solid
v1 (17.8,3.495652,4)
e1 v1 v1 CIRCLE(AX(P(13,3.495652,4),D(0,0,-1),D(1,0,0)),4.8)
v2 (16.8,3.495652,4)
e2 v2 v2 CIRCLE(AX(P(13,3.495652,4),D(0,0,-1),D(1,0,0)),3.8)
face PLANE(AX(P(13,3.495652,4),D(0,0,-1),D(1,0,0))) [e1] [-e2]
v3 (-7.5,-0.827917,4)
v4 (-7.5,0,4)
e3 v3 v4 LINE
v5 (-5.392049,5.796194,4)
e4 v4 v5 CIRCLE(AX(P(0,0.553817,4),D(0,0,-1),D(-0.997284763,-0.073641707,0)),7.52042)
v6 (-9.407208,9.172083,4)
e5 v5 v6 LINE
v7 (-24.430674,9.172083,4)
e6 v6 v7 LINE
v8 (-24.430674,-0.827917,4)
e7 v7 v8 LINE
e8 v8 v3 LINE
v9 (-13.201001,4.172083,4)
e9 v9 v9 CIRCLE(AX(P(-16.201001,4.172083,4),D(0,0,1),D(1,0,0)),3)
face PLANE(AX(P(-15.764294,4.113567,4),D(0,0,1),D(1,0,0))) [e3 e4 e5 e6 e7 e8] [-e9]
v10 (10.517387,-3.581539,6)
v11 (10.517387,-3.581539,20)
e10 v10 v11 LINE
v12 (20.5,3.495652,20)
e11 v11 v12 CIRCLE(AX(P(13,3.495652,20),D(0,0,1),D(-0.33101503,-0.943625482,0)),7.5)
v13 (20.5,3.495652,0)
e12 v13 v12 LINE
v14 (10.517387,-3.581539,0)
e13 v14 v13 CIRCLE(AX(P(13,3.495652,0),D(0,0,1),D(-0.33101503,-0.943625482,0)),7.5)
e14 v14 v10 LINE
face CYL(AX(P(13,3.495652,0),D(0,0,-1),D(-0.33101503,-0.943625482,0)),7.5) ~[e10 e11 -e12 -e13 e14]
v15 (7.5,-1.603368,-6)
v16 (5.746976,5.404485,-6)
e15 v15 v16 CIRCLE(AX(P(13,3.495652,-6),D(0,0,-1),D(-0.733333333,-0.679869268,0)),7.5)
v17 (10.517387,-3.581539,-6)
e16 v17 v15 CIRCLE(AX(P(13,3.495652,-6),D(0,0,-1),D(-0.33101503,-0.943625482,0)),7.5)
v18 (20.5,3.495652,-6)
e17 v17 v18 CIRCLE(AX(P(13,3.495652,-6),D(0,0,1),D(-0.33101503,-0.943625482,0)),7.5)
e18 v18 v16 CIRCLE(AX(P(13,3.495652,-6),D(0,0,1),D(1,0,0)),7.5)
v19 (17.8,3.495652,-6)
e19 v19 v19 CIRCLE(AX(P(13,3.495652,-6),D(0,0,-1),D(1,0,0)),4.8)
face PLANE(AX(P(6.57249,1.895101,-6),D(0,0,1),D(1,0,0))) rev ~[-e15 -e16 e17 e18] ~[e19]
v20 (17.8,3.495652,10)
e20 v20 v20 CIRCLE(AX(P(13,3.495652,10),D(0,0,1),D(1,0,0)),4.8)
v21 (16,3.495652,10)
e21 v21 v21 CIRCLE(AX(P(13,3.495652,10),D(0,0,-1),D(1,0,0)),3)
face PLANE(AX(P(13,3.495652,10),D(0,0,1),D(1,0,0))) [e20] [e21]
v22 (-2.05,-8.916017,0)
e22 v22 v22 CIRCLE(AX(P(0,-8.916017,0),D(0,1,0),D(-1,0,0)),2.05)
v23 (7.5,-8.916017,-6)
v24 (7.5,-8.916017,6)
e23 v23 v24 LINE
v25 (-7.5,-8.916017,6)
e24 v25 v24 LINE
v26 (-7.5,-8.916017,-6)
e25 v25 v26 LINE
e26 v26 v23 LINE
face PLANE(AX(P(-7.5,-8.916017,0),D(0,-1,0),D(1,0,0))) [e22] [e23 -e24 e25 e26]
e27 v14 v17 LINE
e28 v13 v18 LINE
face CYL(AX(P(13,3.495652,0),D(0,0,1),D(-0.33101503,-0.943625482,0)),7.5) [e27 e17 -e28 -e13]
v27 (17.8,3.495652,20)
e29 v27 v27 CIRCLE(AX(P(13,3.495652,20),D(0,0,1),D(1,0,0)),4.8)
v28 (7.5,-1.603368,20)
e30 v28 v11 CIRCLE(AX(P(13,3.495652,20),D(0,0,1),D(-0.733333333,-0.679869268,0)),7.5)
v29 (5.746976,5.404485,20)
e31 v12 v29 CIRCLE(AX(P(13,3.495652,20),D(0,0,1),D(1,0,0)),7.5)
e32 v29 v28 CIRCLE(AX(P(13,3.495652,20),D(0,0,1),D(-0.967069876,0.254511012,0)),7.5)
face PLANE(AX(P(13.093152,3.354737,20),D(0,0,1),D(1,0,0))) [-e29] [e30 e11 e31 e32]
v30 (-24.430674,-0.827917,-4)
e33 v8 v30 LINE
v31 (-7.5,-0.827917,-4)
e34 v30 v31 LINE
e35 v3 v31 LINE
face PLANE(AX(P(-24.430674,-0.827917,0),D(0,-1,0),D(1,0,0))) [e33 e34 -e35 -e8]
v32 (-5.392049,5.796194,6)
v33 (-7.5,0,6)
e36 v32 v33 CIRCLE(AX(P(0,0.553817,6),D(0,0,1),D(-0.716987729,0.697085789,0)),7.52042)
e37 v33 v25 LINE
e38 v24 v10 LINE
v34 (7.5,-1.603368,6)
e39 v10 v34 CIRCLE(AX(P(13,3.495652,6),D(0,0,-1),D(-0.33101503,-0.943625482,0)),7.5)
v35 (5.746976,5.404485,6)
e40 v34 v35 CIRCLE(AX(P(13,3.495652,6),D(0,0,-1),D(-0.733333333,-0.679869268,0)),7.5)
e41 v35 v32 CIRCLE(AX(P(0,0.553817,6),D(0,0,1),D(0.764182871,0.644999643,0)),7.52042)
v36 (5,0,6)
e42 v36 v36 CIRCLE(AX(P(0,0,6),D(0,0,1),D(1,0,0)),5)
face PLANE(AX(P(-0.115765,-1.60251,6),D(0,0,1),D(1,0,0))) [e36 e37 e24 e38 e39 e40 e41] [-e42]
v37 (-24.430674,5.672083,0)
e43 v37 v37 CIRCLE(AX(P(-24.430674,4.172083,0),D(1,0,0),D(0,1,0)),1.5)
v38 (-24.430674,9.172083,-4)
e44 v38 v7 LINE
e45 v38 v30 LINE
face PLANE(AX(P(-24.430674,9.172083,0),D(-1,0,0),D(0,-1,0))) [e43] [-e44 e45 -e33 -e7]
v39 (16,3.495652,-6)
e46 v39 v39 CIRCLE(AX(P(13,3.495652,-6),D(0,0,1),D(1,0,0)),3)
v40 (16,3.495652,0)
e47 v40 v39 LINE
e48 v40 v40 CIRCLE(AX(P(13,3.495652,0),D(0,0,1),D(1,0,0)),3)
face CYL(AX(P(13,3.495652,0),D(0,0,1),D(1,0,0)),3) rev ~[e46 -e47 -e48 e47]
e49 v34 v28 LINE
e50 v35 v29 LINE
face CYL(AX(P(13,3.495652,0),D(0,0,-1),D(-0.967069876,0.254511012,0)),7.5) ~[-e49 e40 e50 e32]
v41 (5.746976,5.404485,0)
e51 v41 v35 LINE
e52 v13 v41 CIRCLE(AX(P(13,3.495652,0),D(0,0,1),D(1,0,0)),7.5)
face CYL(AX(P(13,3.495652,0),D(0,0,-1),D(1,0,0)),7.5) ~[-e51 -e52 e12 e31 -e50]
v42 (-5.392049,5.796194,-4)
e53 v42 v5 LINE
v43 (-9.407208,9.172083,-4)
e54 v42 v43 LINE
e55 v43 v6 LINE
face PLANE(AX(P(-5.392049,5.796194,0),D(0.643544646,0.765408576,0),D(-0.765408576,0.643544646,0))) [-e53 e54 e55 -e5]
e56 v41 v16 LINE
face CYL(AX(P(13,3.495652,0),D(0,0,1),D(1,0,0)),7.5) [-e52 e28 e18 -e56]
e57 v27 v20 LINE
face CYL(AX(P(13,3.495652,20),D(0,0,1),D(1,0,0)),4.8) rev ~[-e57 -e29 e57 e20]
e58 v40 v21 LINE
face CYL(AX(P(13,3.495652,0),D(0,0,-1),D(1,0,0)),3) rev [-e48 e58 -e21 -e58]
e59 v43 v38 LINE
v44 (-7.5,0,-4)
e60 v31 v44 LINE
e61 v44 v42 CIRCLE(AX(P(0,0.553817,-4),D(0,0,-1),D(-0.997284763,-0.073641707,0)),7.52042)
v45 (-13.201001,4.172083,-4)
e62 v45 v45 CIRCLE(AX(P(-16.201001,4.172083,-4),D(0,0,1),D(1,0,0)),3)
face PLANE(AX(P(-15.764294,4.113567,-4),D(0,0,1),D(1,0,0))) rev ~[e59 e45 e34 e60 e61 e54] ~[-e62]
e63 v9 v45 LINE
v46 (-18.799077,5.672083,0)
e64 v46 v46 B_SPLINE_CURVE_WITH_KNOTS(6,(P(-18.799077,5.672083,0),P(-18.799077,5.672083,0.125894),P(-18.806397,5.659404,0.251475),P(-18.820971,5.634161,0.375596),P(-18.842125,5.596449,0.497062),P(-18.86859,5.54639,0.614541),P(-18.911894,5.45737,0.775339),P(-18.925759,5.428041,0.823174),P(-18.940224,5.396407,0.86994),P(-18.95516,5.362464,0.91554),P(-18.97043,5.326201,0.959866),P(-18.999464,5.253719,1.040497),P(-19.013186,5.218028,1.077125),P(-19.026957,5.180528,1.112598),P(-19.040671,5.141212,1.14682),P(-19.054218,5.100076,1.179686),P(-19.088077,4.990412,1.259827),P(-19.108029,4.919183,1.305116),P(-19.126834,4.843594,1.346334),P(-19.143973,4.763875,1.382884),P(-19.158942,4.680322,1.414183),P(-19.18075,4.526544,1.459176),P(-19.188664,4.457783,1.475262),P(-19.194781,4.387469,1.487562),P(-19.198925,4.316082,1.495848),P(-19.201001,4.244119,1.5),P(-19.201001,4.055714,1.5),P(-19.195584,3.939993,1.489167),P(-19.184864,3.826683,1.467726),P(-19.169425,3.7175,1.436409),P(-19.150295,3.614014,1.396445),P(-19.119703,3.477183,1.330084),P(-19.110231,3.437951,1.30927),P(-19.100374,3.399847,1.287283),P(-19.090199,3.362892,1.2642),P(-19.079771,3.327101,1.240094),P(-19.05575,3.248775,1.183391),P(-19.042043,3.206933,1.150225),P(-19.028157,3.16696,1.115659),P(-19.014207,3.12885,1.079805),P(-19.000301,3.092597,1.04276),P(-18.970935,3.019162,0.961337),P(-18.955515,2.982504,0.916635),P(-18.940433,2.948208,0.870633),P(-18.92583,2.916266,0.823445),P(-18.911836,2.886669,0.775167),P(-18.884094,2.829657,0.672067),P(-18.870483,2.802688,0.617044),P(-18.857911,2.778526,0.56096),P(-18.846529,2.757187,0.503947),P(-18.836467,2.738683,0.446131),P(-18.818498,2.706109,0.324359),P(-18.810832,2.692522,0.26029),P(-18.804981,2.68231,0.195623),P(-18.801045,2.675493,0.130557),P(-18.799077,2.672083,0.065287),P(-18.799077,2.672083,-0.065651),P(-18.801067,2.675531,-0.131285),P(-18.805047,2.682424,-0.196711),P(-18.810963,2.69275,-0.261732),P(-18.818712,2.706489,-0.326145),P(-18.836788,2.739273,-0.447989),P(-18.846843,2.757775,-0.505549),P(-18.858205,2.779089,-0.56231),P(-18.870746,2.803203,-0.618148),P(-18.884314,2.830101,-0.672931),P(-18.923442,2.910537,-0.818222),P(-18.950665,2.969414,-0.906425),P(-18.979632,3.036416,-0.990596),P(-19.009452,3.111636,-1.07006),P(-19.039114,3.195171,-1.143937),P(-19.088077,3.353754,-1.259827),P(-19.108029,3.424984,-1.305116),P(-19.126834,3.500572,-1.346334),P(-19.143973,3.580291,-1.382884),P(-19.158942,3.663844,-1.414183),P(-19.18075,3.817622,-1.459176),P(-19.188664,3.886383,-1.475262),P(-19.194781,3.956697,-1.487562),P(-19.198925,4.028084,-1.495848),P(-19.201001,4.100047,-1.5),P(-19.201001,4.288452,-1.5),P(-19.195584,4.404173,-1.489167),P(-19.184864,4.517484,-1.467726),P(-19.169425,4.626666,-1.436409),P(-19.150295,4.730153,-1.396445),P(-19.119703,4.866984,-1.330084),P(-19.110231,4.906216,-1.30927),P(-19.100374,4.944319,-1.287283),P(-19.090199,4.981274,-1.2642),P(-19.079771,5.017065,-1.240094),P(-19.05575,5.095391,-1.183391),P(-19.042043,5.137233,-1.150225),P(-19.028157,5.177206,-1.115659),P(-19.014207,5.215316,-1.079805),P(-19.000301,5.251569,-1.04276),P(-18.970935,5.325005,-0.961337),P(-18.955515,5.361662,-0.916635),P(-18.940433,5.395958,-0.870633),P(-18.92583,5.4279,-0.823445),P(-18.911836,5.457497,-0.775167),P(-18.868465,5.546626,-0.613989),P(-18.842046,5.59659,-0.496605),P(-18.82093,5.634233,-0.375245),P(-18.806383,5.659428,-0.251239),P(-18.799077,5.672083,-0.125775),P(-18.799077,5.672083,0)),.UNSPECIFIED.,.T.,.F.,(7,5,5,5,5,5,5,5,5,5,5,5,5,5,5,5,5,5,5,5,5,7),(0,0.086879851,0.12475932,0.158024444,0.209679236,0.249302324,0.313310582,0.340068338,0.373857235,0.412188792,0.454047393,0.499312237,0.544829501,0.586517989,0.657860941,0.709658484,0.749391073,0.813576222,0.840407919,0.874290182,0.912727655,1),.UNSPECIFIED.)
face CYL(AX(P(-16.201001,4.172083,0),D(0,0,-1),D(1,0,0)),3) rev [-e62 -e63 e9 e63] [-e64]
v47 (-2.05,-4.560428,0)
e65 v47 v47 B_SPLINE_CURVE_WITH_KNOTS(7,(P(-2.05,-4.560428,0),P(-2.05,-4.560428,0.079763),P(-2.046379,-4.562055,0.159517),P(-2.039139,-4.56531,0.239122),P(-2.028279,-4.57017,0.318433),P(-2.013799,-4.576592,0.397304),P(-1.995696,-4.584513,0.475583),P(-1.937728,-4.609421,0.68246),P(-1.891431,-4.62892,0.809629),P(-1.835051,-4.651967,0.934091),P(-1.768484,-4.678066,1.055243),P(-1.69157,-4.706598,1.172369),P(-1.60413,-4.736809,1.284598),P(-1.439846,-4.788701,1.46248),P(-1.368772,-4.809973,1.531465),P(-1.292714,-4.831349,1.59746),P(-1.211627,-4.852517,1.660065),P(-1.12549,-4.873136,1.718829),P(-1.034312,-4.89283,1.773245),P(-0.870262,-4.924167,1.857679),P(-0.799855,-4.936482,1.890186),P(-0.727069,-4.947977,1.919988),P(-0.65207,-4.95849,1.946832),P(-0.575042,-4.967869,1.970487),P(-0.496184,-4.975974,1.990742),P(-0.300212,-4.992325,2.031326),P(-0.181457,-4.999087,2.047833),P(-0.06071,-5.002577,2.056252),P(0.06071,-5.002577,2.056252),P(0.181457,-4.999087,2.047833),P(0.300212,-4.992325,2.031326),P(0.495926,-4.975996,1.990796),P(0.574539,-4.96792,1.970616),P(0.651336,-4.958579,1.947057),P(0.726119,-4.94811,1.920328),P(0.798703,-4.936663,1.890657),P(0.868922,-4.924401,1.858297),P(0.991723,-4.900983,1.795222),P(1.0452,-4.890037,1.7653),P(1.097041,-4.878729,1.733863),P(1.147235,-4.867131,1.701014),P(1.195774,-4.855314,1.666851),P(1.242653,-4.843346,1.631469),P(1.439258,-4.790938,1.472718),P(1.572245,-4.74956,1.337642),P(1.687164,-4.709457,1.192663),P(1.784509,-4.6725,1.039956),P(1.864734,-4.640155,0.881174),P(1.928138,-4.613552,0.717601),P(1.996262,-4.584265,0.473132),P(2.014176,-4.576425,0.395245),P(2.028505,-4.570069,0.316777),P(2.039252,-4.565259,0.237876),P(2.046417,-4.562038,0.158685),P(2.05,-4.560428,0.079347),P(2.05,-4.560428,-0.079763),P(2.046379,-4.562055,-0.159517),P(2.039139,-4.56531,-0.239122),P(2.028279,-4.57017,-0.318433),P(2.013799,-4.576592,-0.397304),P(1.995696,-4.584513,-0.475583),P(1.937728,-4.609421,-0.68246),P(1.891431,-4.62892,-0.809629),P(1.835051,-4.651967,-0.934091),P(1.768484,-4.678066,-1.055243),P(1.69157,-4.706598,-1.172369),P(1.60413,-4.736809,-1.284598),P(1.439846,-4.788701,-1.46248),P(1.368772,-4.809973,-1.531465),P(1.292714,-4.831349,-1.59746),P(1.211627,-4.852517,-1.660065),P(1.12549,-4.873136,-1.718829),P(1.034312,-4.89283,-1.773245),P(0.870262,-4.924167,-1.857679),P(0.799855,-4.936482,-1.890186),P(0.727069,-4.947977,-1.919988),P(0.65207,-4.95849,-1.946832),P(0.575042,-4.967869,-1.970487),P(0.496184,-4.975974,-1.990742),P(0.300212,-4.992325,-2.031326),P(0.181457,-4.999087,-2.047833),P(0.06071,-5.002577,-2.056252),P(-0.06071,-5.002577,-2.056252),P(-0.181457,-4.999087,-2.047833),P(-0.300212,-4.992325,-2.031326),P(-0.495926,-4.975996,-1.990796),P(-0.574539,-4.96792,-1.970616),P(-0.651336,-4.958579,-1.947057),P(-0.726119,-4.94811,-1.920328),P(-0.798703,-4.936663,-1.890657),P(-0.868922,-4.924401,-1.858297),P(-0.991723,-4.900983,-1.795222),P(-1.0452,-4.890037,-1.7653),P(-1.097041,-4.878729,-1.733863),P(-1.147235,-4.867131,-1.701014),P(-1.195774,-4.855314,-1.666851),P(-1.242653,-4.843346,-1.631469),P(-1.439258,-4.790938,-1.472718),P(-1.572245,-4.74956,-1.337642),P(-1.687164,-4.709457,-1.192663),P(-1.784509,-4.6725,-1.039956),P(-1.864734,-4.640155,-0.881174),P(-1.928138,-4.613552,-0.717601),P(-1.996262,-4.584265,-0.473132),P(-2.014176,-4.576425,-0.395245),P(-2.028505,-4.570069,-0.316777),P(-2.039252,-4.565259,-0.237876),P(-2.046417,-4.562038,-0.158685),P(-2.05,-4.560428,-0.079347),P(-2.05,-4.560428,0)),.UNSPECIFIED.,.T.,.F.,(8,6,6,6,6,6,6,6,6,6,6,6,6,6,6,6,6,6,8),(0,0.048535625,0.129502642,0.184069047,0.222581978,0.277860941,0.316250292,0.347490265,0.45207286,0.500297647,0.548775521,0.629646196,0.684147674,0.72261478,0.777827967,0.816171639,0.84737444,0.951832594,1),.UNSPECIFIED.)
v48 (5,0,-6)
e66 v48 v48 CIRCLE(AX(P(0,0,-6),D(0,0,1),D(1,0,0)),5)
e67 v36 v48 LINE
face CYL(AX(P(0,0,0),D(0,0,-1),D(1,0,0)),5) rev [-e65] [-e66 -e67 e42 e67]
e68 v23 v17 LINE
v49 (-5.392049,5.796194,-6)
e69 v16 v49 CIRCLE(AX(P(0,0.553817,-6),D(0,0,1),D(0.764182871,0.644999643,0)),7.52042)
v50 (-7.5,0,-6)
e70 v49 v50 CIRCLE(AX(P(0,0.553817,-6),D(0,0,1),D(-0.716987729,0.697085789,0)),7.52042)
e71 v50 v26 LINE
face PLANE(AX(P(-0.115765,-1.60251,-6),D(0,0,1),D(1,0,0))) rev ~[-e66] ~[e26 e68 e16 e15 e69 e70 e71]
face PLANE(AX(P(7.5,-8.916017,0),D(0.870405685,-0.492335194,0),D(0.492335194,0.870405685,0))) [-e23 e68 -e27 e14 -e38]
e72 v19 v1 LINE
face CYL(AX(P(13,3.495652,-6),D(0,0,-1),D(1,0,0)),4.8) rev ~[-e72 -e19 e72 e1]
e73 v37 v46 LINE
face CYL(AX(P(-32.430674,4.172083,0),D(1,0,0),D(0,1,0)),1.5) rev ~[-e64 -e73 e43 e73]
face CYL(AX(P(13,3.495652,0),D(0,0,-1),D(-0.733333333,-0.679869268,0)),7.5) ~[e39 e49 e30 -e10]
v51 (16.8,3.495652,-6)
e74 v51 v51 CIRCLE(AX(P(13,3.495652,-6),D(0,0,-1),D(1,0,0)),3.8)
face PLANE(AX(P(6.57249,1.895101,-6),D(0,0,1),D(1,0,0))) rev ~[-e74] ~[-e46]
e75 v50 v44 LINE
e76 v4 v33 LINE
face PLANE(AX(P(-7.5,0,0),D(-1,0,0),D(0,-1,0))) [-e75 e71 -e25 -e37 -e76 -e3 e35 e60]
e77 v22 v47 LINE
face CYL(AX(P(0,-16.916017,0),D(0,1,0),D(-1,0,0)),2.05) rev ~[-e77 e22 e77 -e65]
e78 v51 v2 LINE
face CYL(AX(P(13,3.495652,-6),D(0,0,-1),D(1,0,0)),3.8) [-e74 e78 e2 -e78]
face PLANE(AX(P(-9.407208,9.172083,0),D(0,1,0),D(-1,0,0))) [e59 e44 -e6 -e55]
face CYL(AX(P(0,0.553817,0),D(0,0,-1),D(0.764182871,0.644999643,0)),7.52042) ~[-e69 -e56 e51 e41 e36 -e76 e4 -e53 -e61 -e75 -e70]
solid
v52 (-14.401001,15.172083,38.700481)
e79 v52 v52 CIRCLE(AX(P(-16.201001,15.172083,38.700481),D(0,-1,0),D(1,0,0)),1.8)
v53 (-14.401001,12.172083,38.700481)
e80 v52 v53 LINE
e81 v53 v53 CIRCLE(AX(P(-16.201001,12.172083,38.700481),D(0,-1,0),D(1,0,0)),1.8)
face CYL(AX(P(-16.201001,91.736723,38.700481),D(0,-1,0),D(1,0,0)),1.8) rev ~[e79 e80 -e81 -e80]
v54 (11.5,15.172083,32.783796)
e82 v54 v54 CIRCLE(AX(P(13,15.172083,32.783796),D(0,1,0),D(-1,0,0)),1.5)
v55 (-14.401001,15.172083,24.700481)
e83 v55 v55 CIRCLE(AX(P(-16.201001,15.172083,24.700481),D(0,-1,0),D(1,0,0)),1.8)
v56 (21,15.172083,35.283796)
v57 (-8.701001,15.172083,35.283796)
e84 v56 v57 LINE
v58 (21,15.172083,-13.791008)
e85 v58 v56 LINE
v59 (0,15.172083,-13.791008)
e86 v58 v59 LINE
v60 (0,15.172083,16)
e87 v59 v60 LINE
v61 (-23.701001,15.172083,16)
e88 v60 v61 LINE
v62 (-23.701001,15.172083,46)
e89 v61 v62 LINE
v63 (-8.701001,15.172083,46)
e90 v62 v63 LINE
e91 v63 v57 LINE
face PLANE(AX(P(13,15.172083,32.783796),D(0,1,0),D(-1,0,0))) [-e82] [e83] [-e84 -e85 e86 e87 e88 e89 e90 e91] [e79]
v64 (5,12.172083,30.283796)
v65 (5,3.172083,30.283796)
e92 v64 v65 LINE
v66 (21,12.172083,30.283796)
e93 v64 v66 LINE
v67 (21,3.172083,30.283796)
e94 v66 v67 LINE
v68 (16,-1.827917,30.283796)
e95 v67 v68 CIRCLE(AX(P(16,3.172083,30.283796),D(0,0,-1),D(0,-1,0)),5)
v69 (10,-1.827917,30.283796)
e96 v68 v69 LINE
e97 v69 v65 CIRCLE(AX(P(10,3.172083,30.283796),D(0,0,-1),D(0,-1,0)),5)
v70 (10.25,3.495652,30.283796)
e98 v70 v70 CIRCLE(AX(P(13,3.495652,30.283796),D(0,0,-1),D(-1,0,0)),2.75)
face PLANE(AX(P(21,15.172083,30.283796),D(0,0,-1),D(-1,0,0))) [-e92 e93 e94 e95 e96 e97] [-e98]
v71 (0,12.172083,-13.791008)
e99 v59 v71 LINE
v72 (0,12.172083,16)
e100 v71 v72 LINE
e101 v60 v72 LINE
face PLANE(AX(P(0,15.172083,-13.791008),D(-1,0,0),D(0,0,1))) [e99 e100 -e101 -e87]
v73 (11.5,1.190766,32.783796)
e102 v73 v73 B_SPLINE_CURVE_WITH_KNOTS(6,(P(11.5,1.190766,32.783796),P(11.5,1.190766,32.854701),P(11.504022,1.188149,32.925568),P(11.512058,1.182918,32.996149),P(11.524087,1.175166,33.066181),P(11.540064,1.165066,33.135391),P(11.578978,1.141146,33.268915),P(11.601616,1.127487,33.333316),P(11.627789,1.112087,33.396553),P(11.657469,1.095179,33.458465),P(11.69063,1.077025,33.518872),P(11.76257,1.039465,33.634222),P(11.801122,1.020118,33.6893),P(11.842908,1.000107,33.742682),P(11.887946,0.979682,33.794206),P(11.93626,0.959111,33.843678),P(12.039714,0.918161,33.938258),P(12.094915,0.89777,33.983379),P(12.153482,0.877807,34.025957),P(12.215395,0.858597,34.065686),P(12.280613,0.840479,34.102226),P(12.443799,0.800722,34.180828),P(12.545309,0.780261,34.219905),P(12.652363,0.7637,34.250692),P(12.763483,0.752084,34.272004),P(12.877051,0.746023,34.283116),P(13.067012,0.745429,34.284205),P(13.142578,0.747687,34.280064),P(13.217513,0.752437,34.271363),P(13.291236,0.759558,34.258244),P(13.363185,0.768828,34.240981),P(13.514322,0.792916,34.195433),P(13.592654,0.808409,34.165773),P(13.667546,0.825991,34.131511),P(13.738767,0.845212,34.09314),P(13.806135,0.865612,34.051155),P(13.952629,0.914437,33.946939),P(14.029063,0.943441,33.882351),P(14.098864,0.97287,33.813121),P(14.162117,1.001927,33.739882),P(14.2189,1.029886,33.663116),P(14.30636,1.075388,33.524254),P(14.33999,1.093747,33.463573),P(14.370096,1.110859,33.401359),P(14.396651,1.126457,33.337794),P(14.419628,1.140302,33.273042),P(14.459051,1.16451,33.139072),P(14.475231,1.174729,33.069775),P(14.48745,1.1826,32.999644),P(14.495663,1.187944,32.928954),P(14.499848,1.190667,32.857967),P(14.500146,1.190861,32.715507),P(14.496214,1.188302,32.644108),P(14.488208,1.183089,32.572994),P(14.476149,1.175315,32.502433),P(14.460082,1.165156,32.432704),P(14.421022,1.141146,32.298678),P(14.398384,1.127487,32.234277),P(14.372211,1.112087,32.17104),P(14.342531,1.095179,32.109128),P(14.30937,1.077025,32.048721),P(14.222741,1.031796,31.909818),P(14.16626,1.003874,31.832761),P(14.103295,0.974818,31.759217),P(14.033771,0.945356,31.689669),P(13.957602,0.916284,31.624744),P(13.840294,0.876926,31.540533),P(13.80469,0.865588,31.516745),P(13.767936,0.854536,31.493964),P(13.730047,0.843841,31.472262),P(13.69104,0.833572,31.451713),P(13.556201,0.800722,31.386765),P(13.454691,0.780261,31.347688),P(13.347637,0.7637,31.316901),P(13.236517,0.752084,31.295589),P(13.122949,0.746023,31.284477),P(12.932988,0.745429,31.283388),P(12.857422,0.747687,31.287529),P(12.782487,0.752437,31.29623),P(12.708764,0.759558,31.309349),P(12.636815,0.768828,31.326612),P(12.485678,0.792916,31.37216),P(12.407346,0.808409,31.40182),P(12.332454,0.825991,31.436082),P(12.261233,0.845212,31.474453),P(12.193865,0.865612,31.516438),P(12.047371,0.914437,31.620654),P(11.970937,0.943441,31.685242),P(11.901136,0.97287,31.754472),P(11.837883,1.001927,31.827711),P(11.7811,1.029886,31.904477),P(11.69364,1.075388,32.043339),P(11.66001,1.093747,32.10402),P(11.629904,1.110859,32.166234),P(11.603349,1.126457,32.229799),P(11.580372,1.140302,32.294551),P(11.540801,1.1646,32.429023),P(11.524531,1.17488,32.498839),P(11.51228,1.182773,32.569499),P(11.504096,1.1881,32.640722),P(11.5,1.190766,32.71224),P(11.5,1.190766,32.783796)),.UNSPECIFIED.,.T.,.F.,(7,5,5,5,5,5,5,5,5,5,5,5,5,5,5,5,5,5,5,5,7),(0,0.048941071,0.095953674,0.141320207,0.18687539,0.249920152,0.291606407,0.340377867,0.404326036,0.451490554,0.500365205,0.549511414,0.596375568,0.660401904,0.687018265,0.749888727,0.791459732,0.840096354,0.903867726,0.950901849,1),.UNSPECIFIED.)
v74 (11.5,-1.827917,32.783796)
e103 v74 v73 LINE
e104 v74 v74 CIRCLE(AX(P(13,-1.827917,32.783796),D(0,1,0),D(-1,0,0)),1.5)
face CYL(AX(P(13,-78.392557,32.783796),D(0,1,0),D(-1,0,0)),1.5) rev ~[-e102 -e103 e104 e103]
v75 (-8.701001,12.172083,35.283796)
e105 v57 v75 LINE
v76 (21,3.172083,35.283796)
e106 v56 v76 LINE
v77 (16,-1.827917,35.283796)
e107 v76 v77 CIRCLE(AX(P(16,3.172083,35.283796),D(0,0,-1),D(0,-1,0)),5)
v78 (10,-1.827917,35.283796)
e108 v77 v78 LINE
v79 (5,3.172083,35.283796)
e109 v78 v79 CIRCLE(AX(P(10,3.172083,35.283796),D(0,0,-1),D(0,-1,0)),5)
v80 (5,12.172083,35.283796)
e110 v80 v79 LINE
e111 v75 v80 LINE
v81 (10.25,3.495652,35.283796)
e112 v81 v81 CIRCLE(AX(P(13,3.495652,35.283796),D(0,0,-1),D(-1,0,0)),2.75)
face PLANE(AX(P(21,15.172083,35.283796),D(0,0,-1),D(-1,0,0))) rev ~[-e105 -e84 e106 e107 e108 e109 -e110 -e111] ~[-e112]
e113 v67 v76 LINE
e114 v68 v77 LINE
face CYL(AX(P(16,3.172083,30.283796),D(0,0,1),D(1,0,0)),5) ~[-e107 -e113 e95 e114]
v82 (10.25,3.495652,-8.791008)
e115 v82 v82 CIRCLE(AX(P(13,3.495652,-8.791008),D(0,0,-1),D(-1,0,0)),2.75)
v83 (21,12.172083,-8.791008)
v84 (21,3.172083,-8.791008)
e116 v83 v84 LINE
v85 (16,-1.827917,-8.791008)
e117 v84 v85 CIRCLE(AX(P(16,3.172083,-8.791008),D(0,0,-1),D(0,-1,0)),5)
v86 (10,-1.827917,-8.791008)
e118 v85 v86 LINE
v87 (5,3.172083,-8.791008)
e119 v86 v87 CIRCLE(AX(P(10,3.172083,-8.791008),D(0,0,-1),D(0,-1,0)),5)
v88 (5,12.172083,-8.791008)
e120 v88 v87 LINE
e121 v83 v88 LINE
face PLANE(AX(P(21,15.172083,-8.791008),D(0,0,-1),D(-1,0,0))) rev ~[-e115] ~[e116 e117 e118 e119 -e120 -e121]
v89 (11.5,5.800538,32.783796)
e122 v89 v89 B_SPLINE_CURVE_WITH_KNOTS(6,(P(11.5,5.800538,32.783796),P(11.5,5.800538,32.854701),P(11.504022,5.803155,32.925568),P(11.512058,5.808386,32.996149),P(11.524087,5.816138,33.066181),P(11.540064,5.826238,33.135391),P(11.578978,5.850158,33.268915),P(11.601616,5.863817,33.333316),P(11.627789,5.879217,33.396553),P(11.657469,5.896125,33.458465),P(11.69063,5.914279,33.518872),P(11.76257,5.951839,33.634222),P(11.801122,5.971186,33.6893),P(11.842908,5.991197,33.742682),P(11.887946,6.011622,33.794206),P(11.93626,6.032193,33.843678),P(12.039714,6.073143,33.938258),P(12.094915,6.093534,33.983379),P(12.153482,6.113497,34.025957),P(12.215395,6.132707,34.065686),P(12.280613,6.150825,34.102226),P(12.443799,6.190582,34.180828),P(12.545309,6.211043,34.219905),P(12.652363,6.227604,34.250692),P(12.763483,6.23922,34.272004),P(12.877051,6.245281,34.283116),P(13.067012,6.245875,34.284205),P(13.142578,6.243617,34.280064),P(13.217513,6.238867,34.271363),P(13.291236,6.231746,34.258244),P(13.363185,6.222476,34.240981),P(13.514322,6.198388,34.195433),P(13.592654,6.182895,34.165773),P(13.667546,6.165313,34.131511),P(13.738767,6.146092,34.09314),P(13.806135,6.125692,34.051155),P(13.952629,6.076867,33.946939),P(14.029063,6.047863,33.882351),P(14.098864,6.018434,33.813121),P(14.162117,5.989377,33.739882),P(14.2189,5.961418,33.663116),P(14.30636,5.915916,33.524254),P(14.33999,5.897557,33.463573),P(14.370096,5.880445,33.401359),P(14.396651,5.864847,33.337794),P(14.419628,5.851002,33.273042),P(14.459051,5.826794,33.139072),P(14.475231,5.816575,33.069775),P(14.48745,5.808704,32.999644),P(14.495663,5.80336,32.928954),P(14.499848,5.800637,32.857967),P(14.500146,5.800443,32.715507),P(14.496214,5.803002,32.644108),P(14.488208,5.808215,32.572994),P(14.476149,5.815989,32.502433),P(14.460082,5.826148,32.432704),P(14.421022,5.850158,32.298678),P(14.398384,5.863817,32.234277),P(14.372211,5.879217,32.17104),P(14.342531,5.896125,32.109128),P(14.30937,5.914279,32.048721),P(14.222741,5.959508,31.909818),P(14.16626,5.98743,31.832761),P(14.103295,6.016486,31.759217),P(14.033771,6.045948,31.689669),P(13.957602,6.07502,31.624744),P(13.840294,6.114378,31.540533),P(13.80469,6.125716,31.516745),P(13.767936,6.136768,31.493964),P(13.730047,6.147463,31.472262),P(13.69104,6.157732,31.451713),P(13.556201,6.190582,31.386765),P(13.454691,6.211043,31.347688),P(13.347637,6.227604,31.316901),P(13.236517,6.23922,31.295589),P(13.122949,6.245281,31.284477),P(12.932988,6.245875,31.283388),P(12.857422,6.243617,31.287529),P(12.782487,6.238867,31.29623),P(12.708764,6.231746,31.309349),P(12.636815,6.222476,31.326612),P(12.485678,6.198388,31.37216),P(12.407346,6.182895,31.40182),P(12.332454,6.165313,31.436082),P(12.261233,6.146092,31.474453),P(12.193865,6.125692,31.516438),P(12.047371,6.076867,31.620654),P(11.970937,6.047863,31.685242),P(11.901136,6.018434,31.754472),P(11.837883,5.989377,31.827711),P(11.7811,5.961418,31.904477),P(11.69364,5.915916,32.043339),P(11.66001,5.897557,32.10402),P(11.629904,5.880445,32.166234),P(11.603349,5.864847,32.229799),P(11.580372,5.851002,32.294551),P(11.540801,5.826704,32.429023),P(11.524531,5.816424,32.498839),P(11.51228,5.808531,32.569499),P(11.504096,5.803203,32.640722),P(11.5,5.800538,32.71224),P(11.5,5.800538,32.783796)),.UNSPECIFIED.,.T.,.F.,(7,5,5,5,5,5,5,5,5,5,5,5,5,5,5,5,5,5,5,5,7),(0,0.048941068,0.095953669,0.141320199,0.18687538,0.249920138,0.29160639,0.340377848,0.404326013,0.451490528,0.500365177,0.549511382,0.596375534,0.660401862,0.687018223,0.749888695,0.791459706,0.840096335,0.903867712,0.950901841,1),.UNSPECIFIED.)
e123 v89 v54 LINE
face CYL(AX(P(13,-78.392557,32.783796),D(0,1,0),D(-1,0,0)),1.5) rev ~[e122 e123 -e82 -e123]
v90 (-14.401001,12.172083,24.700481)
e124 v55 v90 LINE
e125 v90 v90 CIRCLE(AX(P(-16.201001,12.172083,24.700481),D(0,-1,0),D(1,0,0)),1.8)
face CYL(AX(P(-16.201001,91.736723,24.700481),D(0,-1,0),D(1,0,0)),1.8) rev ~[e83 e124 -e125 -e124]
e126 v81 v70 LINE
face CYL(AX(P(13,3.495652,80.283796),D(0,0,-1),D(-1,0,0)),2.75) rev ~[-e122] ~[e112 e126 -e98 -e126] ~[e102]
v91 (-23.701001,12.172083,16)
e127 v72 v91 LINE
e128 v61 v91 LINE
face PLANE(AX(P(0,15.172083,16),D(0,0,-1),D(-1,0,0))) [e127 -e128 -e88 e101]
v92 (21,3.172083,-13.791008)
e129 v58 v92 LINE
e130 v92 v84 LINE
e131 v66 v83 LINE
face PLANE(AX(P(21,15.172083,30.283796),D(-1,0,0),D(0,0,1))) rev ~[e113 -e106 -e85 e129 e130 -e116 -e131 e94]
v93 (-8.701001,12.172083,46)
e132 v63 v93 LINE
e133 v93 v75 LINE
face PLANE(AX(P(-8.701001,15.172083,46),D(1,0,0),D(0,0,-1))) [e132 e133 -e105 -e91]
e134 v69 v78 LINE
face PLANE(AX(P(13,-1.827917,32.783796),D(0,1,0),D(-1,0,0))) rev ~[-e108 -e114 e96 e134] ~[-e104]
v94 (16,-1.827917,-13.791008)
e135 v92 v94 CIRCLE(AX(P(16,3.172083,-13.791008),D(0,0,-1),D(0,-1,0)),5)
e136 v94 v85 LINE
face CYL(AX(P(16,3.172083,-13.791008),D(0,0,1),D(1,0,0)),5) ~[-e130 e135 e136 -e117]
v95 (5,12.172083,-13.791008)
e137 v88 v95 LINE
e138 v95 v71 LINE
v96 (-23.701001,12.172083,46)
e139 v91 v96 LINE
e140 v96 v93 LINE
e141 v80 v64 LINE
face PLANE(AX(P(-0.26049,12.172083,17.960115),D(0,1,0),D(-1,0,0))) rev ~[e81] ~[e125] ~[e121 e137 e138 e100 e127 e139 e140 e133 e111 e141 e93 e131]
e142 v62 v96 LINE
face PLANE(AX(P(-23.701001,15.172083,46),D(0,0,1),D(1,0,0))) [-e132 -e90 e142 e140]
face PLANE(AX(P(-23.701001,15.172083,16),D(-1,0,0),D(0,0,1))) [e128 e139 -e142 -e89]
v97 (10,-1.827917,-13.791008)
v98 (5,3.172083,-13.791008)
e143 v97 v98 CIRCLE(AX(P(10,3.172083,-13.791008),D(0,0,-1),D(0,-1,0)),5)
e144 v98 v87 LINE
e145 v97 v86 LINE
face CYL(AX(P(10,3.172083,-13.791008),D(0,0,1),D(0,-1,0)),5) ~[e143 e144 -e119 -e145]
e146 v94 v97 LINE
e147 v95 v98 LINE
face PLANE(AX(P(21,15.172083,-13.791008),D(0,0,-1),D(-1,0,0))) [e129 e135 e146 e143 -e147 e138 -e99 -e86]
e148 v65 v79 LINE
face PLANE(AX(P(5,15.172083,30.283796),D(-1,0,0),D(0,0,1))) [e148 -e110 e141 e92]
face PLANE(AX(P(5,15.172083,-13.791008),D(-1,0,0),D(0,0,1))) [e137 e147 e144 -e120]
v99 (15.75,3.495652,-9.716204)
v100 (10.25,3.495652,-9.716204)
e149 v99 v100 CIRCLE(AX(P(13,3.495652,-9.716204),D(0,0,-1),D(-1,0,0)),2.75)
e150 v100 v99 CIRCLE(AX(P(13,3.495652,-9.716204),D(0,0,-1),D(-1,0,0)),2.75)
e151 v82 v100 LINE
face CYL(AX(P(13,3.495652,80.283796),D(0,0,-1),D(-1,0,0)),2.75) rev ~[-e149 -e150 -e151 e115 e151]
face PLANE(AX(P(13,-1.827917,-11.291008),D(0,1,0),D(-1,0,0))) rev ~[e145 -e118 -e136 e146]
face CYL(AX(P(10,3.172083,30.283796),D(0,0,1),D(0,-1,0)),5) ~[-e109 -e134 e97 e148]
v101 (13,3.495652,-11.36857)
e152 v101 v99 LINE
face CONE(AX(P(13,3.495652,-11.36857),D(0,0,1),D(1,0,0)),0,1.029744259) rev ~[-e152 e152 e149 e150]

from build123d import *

# Parameters (mm, degrees)
F0_R      = 5
F1_DEPTH  = 6
F0_R_2    = 4.8
F0_R_3    = 3
F2_DEPTH  = 20
F3_DEPTH  = 6
F4_DEPTH  = 4
F5_R      = 4.8
F6_DEPTH  = 10
F7_R      = 4.8
F7_R_2    = 3.8
F8_DEPTH  = 10
F10_D     = 3
F10_DEPTH = 8
F10_TIP   = 0.9012909285
F12_D     = 4.1
F12_DEPTH = 8
F12_TIP   = 1.231764269
F15_DEPTH = 3
F14_W     = 16
F14_H     = 5
F16_DEPTH = 17
F17_D     = 3.6
F19_D     = 5.5
F19_DEPTH = 45
F19_TIP   = 1.6523667023
F20_R     = 5
F22_D     = 3


with BuildPart() as f1:
    # F0 (on Top) → F1 (new body, symmetric)
    with BuildSketch(Plane.XY):
        with BuildLine():
            Line((7.5, -8.9160166681), (7.5, -1.6033675178))
            ThreePointArc((7.5, -1.6033675178), (5.724190526, 1.6755980136), (5.7469759312, 5.4044845859))
            ThreePointArc((5.7469759312, 5.4044845859), (0.2642961594, 8.069590647), (-5.3920486551, 5.7961942593))
            ThreePointArc((-5.3920486551, 5.7961942593), (-7.0675453026, 3.1241309575), (-7.5, 0))
            Line((-7.5, 0), (-7.5, -0.8279169323))
            Line((-7.5, -0.8279169323), (-7.5, -8.9160166681))
            Line((-7.5, -8.9160166681), (7.5, -8.9160166681))
        make_face()
        Circle(F0_R, mode=Mode.SUBTRACT)
        with BuildLine():
            Line((7.5, -8.9160166681), (10.5173872741, -3.5815391175))
            ThreePointArc((10.5173872741, -3.5815391175), (8.88796678, -2.7766030053), (7.5, -1.6033675178))
            Line((7.5, -1.6033675178), (7.5, -8.9160166681))
        make_face()
    extrude(amount=F1_DEPTH, both=True)

    # F0 (on Top) → F2 (join)
    with BuildSketch(Plane.XY):
        with BuildLine():
            ThreePointArc((7.5, -1.6033675178), (8.88796678, -2.7766030053), (10.5173872741, -3.5815391175))
            ThreePointArc((10.5173872741, -3.5815391175), (17.3376493955, -2.6227463013), (20.5, 3.4956519958))
            ThreePointArc((20.5, 3.4956519958), (13.9623719353, 10.9336517442), (5.7469759312, 5.4044845859))
            ThreePointArc((5.7469759312, 5.4044845859), (7.1535100643, 2.8741627566), (7.5, 0))
            Line((7.5, 0), (7.5, -1.6033675178))
        make_face()
        with Locations((13, 3.4956519958)):
            Circle(F0_R_2, mode=Mode.SUBTRACT)
        with BuildLine():
            ThreePointArc((5.7469759312, 5.4044845859), (5.724190526, 1.6755980136), (7.5, -1.6033675178))
            Line((7.5, -1.6033675178), (7.5, 0))
            ThreePointArc((7.5, 0), (7.1535100643, 2.8741627566), (5.7469759312, 5.4044845859))
        make_face()
        with Locations((13, 3.4956519958)):
            Circle(F0_R_2)
        with Locations((13, 3.4956519958)):
            Circle(F0_R_3, mode=Mode.SUBTRACT)
    extrude(amount=F2_DEPTH)

    # F0 (on Top) → F3 (join, through all)
    with BuildSketch(Plane.XY):
        with BuildLine():
            ThreePointArc((5.7469759312, 5.4044845859), (5.724190526, 1.6755980136), (7.5, -1.6033675178))
            Line((7.5, -1.6033675178), (7.5, 0))
            ThreePointArc((7.5, 0), (7.1535100643, 2.8741627566), (5.7469759312, 5.4044845859))
        make_face()
        with BuildLine():
            ThreePointArc((7.5, -1.6033675178), (8.88796678, -2.7766030053), (10.5173872741, -3.5815391175))
            ThreePointArc((10.5173872741, -3.5815391175), (17.3376493955, -2.6227463013), (20.5, 3.4956519958))
            ThreePointArc((20.5, 3.4956519958), (13.9623719353, 10.9336517442), (5.7469759312, 5.4044845859))
            ThreePointArc((5.7469759312, 5.4044845859), (7.1535100643, 2.8741627566), (7.5, 0))
            Line((7.5, 0), (7.5, -1.6033675178))
        make_face()
        with Locations((13, 3.4956519958)):
            Circle(F0_R_2, mode=Mode.SUBTRACT)
        with Locations((13, 3.4956519958)):
            Circle(F0_R_2)
        with Locations((13, 3.4956519958)):
            Circle(F0_R_3, mode=Mode.SUBTRACT)
    extrude(amount=-F3_DEPTH)

    # F0 (on Top) → F4 (join, symmetric)
    with BuildSketch(Plane.XY):
        with BuildLine():
            ThreePointArc((-7.5, 0), (-7.0675453026, 3.1241309575), (-5.3920486551, 5.7961942593))
            Line((-5.3920486551, 5.7961942593), (-9.4072079159, 9.1720830677))
            Line((-9.4072079159, 9.1720830677), (-24.4306735694, 9.1720830677))
            Line((-24.4306735694, 9.1720830677), (-24.4306735694, -0.8279169323))
            Line((-24.4306735694, -0.8279169323), (-7.5, -0.8279169323))
            Line((-7.5, -0.8279169323), (-7.5, 0))
        make_face()
        with Locations((-16.2010006607, 4.1720830677)):
            Circle(F0_R_3, mode=Mode.SUBTRACT)
    extrude(amount=F4_DEPTH, both=True)

    # F5 (on face) → F6 (cut)
    with BuildSketch(Plane.XY.offset(20)):
        with Locations((13, 3.4956519958)):
            Circle(F5_R)
    extrude(amount=-F6_DEPTH, mode=Mode.SUBTRACT)

    # F7 (on face) → F8 (cut)
    with BuildSketch(Plane(origin=(0, 0, -6), x_dir=(1, 0, 0), z_dir=(0, 0, -1))):
        with Locations((13, -3.4956519958)):
            Circle(F7_R)
        with Locations((13, -3.4956519958)):
            Circle(F7_R_2, mode=Mode.SUBTRACT)
    extrude(amount=-F8_DEPTH, mode=Mode.SUBTRACT)

    # F10
    with Locations(Plane(origin=(-24.4306735694, 0, 0), x_dir=(0, -1, 0), z_dir=(-1, 0, 0))):
        with Locations((-4.1720830677, 0)):
            Hole(F10_D / 2, depth=F10_DEPTH)
            with Locations((0, 0, -(F10_DEPTH + F10_TIP / 2))):  # 118° drill point
                Cone(0, F10_D / 2, F10_TIP, mode=Mode.SUBTRACT)

    # F12
    with Locations(Plane.XZ.offset(8.9160166681)):
        with Locations((0, 0)):
            Hole(F12_D / 2, depth=F12_DEPTH)
            with Locations((0, 0, -(F12_DEPTH + F12_TIP / 2))):  # 118° drill point
                Cone(0, F12_D / 2, F12_TIP, mode=Mode.SUBTRACT)


with BuildPart() as f15:
    # F14 (on offset) → F15 (new body)
    with BuildSketch(Plane(origin=(0, 15.1720830677, 0), x_dir=(-1, 0, 0), z_dir=(0, 1, 0))):
        Polygon((0, 16), (23.7010006607, 16), (23.7010006607, 46), (8.7010006607, 46), (8.7010006607, 35.2837964892), (-5, 35.2837964892), (-5, 30.2837964892), (-21, 30.2837964892), (-21, -8.7910083532), (-5, -8.7910083532), (-5, -13.7910083532), (0, -13.7910083532), align=None)
    extrude(amount=-F15_DEPTH)

    # F14 (on offset) → F16 (join)
    with BuildSketch(Plane(origin=(0, 15.1720830677, 0), x_dir=(-1, 0, 0), z_dir=(0, 1, 0))):
        with Locations((-13, 32.7837964892)):
            Rectangle(F14_W, F14_H)
        with Locations((-13, -11.2910083532)):
            Rectangle(F14_W, F14_H)
    extrude(amount=-F16_DEPTH)

    # F17 (through all)
    with Locations(Plane(origin=(0, 15.1720830677, 0), x_dir=(-1, 0, 0), z_dir=(0, 1, 0))):
        with Locations((16.2010006607, 38.7004814446), (16.2010006607, 24.7004814446)):
            Hole(F17_D / 2)

    # F19
    with Locations(Plane.XY.offset(35.2837964892)):
        with Locations((13, 3.4956519958)):
            Hole(F19_D / 2, depth=F19_DEPTH)
            with Locations((0, 0, -(F19_DEPTH + F19_TIP / 2))):  # 118° drill point
                Cone(0, F19_D / 2, F19_TIP, mode=Mode.SUBTRACT)

    # F20
    f20_edges = [f15.edges().sort_by_distance(p)[0] for p in [
        (5, -1.827917, 32.783796),
        (21, -1.827917, 32.783796),
        (5, -1.827917, -11.291008),
        (21, -1.827917, -11.291008),
    ]]
    fillet(f20_edges, radius=F20_R)

    # F22 (through all)
    with Locations(Plane.XZ.offset(1.8279169323)):
        with Locations((13, 32.7837964892)):
            Hole(F22_D / 2)


solid = Compound([f1.part, f15.part])
